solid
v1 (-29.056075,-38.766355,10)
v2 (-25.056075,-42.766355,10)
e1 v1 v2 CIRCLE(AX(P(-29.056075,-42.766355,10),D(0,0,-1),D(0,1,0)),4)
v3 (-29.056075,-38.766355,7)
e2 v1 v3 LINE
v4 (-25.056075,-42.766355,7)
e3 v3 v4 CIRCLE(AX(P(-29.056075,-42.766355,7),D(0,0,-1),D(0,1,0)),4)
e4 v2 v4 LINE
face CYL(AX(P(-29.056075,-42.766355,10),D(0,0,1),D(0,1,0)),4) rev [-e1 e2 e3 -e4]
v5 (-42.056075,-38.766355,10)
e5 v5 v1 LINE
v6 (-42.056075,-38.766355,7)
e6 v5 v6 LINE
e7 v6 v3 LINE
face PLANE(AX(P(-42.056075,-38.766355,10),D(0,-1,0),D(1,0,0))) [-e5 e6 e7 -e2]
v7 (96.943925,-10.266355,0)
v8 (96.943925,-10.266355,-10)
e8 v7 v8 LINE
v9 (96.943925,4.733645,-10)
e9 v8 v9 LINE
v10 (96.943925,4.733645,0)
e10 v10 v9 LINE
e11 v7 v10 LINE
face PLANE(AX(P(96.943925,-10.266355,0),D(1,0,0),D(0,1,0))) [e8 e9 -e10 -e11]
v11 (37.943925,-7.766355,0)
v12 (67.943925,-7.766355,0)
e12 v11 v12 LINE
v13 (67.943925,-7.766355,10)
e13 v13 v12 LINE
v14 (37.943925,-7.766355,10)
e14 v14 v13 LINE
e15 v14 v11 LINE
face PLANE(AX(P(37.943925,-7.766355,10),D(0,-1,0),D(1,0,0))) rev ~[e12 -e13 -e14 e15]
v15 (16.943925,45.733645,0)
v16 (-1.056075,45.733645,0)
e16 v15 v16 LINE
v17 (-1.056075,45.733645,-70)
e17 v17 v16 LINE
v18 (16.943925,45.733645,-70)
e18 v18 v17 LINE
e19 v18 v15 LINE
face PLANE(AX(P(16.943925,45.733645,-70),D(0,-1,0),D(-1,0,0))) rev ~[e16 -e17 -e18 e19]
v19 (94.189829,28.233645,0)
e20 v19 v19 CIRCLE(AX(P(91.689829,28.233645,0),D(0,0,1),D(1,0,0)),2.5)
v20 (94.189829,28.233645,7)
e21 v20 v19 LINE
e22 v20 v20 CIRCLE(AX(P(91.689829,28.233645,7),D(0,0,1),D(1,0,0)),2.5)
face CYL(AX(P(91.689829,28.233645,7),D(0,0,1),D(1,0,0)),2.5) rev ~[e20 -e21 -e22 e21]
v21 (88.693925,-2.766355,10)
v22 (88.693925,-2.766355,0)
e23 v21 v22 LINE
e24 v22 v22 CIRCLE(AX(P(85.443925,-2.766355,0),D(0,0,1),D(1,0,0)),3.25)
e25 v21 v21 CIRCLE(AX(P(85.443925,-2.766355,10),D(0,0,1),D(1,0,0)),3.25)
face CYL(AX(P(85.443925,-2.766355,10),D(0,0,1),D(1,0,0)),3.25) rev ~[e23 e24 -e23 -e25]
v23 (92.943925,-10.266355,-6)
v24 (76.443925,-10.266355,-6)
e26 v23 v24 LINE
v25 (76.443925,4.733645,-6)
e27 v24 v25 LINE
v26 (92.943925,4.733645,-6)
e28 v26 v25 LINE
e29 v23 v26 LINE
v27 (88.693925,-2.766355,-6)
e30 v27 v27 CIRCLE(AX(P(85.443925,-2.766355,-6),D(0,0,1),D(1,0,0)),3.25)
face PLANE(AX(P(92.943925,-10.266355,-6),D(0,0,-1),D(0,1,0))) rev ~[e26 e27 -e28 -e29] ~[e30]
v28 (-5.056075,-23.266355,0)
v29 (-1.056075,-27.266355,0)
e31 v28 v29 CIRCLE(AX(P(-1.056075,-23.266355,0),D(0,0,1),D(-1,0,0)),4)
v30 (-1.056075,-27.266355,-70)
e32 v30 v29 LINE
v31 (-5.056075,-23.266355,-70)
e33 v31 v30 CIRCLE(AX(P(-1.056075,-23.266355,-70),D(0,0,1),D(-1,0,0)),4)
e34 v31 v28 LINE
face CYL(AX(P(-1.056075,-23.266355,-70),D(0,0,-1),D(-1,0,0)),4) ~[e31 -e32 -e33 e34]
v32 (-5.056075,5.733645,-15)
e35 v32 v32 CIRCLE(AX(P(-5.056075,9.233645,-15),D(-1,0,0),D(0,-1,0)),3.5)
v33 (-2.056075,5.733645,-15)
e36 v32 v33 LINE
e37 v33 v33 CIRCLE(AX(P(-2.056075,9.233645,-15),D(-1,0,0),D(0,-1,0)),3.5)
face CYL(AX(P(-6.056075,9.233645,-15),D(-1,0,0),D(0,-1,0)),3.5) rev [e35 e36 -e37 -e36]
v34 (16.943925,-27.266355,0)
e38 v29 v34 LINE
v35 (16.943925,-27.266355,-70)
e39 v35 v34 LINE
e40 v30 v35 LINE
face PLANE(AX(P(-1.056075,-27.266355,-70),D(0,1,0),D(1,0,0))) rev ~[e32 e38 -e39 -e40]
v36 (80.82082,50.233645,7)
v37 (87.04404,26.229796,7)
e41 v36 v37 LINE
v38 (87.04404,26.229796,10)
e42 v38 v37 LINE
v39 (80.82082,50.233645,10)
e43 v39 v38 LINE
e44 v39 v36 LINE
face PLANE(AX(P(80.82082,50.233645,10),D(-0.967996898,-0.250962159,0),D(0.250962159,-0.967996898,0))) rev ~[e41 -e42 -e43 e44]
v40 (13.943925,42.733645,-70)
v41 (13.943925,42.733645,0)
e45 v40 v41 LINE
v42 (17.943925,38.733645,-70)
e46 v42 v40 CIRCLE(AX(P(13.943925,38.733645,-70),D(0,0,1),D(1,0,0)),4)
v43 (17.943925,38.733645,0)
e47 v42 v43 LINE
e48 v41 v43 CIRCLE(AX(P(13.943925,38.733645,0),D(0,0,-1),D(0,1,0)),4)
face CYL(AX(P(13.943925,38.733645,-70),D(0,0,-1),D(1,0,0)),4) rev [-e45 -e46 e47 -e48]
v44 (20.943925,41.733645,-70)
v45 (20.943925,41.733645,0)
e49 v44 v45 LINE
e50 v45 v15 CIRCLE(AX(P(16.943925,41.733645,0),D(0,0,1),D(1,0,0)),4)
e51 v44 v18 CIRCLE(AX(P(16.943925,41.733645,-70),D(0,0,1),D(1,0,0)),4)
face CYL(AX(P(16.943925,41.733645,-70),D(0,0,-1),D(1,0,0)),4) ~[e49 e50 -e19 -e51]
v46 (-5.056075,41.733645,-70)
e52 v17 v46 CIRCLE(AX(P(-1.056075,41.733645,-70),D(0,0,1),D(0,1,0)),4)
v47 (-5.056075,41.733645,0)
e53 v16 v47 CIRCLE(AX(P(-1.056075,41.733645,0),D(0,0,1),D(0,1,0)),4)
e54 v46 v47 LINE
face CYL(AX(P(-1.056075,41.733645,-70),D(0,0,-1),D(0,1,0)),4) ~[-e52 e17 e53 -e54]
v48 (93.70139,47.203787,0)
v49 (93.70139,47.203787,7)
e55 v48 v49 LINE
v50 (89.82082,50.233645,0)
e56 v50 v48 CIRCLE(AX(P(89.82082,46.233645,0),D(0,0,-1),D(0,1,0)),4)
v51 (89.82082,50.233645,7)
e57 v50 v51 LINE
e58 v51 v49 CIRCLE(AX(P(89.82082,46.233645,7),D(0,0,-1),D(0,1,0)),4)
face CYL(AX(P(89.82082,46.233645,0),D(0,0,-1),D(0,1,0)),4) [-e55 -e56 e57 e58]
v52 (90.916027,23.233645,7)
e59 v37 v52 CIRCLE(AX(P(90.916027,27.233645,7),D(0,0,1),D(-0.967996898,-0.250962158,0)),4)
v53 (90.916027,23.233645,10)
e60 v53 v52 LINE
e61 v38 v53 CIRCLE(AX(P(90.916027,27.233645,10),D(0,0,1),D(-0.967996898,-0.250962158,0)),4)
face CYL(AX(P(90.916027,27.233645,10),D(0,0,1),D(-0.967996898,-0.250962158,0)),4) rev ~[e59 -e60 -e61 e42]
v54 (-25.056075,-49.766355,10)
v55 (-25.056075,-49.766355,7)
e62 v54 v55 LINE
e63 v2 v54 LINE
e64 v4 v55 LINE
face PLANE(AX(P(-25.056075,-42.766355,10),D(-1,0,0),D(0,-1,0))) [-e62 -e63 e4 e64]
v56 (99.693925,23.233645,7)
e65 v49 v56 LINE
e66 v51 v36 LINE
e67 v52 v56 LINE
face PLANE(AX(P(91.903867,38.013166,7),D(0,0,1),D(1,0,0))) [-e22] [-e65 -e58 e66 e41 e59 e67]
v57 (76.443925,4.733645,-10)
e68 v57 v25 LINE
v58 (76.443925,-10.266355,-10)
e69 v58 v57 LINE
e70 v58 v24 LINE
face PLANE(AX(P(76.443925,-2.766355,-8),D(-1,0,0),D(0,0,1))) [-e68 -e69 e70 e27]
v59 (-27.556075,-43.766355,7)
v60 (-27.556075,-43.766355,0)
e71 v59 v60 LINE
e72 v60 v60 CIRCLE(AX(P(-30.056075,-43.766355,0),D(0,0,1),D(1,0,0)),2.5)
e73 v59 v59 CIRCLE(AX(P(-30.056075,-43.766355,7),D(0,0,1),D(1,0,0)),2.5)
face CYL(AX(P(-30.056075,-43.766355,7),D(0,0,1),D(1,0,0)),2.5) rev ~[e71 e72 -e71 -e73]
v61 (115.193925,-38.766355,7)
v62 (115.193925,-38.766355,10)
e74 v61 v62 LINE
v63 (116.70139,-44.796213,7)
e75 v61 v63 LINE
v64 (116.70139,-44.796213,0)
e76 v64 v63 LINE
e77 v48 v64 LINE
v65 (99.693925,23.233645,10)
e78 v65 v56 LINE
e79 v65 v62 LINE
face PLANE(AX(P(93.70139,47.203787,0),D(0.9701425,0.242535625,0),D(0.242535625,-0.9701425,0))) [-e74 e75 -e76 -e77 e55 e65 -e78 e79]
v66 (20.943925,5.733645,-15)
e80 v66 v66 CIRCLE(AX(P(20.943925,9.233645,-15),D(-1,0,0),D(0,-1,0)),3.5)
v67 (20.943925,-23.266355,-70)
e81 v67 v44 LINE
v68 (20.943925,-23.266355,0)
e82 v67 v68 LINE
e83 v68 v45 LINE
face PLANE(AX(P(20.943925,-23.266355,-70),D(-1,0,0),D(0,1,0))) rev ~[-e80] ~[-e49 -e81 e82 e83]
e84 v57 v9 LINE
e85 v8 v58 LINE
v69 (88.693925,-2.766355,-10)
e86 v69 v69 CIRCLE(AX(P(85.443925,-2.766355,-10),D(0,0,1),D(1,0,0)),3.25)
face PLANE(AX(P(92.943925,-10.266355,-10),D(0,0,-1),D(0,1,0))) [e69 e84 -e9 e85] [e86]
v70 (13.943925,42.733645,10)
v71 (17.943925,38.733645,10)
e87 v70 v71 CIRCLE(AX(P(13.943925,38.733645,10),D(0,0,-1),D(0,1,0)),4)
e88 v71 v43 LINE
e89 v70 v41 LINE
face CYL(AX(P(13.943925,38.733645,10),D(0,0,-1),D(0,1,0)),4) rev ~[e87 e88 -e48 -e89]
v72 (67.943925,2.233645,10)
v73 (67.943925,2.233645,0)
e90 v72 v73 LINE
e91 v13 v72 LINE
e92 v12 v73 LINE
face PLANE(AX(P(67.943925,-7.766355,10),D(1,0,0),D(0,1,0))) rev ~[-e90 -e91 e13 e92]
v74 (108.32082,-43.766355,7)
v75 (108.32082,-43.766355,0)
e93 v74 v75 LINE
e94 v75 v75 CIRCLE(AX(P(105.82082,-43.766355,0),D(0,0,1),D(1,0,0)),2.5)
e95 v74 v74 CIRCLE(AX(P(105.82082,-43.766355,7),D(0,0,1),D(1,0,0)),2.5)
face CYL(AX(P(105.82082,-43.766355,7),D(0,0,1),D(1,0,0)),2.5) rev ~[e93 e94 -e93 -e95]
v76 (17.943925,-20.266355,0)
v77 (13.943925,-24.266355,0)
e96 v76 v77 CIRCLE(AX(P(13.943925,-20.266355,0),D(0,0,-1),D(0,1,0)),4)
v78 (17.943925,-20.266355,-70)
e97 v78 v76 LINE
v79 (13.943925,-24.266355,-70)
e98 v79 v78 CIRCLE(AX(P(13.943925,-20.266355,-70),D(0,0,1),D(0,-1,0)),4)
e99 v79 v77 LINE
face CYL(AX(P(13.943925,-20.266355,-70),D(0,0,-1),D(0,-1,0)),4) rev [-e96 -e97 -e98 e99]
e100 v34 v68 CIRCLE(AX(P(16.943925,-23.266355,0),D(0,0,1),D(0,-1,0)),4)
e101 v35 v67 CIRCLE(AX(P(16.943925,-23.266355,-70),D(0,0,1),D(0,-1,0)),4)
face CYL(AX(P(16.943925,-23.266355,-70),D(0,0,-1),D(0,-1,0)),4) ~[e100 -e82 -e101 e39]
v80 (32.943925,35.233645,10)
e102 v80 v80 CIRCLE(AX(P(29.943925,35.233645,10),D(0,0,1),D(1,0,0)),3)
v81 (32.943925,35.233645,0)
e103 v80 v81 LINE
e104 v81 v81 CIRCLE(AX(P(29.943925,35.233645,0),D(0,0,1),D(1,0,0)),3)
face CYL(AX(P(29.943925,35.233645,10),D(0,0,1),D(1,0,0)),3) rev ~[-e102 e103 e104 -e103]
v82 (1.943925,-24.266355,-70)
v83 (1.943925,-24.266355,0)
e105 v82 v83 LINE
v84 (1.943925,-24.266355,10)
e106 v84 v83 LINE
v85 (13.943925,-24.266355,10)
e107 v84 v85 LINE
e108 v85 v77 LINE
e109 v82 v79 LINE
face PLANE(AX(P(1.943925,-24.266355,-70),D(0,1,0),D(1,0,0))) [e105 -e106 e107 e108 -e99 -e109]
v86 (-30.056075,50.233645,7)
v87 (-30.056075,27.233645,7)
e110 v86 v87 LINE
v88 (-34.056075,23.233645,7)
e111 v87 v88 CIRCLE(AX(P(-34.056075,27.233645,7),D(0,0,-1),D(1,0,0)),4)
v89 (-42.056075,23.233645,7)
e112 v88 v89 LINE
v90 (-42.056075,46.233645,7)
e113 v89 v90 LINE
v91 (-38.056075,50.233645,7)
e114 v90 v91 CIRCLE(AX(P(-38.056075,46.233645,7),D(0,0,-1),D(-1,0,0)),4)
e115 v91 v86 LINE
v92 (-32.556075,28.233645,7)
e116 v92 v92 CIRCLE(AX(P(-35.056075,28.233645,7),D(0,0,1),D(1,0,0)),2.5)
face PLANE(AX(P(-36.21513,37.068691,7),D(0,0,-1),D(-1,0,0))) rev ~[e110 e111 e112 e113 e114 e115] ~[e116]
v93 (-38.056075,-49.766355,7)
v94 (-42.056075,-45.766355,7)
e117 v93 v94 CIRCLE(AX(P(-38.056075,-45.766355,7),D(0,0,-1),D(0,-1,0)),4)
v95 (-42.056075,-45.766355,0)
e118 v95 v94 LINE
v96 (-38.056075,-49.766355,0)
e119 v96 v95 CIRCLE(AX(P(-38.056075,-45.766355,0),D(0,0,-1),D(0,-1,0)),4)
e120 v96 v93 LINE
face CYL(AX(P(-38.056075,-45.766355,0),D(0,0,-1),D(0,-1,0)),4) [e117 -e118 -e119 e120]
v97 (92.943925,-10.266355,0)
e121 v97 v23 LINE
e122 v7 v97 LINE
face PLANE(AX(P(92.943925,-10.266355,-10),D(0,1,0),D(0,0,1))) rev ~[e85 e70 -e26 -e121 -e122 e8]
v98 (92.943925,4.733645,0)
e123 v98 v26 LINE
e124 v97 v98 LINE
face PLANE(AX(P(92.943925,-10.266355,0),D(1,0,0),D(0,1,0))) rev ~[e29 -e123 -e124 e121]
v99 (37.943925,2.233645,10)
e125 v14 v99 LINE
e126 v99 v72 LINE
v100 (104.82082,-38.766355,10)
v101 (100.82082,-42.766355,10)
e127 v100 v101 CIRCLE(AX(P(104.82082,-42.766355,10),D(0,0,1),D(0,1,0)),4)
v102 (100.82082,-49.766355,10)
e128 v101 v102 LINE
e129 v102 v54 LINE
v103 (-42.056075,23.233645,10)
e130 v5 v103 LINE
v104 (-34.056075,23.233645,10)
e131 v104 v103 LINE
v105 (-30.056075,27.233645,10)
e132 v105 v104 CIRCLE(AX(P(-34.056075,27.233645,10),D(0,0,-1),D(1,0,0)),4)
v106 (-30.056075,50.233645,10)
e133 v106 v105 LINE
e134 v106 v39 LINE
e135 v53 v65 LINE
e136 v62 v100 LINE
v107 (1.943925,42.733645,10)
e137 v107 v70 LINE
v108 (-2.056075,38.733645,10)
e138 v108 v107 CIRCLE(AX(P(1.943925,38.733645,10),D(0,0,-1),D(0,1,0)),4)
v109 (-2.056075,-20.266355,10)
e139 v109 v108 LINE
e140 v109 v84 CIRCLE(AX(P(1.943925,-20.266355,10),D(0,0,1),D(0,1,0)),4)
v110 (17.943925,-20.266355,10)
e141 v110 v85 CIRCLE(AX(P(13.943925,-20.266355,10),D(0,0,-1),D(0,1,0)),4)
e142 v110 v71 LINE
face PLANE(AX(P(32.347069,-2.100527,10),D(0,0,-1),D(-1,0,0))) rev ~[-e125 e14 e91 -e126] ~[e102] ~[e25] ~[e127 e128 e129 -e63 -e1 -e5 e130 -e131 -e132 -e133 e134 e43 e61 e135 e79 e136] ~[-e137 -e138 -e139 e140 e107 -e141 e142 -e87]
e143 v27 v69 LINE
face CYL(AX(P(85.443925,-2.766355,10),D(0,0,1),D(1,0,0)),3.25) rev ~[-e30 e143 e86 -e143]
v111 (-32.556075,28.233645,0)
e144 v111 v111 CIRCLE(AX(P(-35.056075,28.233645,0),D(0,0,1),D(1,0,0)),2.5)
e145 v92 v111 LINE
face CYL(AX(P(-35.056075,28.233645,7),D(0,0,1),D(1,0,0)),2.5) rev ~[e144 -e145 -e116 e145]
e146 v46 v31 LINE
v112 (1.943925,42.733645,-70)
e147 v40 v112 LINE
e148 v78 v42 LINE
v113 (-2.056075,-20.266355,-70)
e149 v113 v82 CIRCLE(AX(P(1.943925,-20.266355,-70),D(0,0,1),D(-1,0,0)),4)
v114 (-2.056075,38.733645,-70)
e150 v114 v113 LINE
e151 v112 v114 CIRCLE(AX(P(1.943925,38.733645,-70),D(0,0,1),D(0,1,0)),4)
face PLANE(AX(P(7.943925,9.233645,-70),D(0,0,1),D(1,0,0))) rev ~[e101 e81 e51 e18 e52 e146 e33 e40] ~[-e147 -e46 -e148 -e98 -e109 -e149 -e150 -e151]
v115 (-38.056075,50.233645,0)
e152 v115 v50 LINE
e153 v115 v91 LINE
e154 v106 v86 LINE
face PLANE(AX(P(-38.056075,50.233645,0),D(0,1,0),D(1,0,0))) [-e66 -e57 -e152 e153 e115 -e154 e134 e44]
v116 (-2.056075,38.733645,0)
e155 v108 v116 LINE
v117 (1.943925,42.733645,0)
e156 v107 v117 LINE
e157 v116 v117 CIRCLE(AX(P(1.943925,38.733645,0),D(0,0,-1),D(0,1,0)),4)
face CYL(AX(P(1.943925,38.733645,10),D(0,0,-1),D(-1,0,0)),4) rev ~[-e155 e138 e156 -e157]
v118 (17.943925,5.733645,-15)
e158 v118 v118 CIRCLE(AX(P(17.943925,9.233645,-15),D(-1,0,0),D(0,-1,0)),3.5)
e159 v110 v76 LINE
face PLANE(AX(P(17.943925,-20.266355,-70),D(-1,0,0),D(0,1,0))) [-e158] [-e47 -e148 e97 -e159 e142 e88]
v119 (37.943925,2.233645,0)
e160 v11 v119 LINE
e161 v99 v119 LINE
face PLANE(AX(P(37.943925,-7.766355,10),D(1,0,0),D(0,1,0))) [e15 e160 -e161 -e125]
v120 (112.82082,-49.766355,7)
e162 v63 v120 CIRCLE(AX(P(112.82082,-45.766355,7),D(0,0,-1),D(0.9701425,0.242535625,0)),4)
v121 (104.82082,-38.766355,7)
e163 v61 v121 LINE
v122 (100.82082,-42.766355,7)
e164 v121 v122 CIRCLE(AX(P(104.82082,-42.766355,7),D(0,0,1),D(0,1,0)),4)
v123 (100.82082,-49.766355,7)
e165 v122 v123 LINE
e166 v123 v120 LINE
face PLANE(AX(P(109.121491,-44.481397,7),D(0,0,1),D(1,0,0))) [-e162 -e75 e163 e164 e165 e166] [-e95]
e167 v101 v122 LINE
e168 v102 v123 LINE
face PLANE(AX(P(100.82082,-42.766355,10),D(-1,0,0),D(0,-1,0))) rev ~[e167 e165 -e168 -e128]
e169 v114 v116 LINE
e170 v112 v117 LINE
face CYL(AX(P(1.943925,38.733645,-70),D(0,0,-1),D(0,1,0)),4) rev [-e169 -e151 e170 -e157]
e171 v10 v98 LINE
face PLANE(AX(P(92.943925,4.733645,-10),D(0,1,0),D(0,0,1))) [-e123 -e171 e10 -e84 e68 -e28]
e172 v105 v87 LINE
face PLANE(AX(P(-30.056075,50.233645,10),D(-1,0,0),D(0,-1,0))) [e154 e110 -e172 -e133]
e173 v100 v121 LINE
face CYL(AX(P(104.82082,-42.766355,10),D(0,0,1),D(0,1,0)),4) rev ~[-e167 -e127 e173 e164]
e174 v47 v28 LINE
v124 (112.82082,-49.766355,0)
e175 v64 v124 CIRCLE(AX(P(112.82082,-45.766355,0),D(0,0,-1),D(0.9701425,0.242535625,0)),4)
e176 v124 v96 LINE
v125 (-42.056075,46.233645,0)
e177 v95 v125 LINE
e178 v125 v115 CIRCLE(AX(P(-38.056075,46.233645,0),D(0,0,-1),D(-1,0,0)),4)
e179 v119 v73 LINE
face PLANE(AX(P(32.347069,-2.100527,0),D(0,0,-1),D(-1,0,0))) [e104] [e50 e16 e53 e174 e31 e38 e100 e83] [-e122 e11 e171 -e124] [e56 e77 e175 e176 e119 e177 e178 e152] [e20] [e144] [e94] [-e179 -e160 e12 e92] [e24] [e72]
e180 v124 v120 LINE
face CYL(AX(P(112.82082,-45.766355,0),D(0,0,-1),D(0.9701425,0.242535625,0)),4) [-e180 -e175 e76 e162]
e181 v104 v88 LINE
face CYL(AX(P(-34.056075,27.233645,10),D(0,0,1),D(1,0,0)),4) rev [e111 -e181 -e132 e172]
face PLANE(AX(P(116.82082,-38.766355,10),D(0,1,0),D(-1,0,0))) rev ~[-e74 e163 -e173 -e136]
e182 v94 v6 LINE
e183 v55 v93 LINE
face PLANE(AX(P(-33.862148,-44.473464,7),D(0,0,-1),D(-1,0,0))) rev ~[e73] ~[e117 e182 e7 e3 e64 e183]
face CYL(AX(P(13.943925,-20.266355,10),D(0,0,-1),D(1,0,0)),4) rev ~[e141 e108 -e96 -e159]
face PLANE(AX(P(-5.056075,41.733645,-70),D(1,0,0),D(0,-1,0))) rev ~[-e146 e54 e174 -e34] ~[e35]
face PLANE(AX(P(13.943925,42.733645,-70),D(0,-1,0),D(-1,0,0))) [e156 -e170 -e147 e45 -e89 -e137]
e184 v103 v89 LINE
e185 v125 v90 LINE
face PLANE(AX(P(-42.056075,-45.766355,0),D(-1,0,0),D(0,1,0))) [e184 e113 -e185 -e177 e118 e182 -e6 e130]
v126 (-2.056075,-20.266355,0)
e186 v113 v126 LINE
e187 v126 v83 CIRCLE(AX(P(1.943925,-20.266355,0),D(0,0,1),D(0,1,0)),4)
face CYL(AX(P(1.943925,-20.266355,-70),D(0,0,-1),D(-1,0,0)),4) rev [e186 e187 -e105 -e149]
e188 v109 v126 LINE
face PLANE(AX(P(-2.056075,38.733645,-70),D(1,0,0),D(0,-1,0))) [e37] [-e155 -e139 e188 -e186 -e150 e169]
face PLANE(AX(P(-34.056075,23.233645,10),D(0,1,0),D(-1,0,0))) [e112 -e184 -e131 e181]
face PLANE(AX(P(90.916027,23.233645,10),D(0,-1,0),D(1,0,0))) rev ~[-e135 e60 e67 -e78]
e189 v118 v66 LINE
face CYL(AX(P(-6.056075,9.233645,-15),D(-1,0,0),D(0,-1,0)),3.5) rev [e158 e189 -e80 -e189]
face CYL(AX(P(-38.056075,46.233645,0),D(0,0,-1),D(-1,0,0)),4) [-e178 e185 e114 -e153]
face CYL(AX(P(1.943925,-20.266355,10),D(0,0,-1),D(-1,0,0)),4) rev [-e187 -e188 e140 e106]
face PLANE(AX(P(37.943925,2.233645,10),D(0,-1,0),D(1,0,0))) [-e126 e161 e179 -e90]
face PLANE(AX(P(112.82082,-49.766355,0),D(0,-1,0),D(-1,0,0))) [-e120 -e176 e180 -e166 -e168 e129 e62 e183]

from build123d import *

# Parameters (mm, degrees)
BOSS_EXTRUDE1_DEPTH = 10
SKETCH2_R           = 3
SKETCH2_W           = 20
SKETCH2_H           = 67
SKETCH2_W_2         = 30
SKETCH2_H_2         = 10
CUT_EXTRUDE1_DEPTH  = 10
FILLET1_R           = 4
BOSS_EXTRUDE2_START = 70
BOSS_EXTRUDE2_DEPTH = 70
CUT_EXTRUDE5_DEPTH  = 3
SKETCH7_R           = 2.5
CUT_EXTRUDE6_DEPTH  = 7
CUT_EXTRUDE8_START  = -5
SKETCH8_R           = 3.5
CUT_EXTRUDE8_DEPTH  = 30
SKETCH9_W           = 4
SKETCH9_H           = 15
BOSS_EXTRUDE3_DEPTH = 10
SKETCH10_W          = 4
SKETCH10_H          = 15
BOSS_EXTRUDE4_DEPTH = 16.5
SKETCH5_R           = 3.25
CUT_EXTRUDE10_DEPTH = 20


with BuildPart() as part:
    # Sketch1 → Boss-Extrude1 (new body)
    with BuildSketch(Plane.XY):
        with BuildLine():
            Line((-38.056074766, 50.23364486), (89.820819608, 50.23364486))
            ThreePointArc((89.820819608, 50.23364486), (92.282468446, 49.386466612), (93.701389609, 47.20378736))
            Line((93.701389609, 47.20378736), (116.701389609, -44.79621264))
            ThreePointArc((116.701389609, -44.79621264), (115.97364136, -48.228003978), (112.820819608, -49.76635514))
            Line((112.820819608, -49.76635514), (-38.056074766, -49.76635514))
            ThreePointArc((-38.056074766, -49.76635514), (-40.884501891, -48.594782265), (-42.056074766, -45.76635514))
            Line((-42.056074766, -45.76635514), (-42.056074766, 46.23364486))
            ThreePointArc((-42.056074766, 46.23364486), (-40.884501891, 49.062071985), (-38.056074766, 50.23364486))
        make_face()
    extrude(amount=BOSS_EXTRUDE1_DEPTH)

    # Sketch2 → Cut-Extrude1 (cut)
    with BuildSketch(Plane.XY.offset(10)):
        with Locations((29.943925234, 35.23364486)):
            Circle(SKETCH2_R)
        with Locations((7.943925234, 9.23364486)):
            Rectangle(SKETCH2_W, SKETCH2_H)
        with Locations((52.943925234, -2.76635514)):
            Rectangle(SKETCH2_W_2, SKETCH2_H_2)
    extrude(amount=-CUT_EXTRUDE1_DEPTH, mode=Mode.SUBTRACT)

    # Fillet1
    fillet1_edges = [part.edges().sort_by_distance(p)[0] for p in [
        (-2.056074766, -24.26635514, 5),
        (-2.056074766, 42.73364486, 5),
        (17.943925234, 42.73364486, 5),
        (17.943925234, -24.26635514, 5),
    ]]
    fillet(fillet1_edges, radius=FILLET1_R)

    # Sketch4 → Boss-Extrude2 (add)
    with BuildSketch(Plane(origin=(0, 0, 0), x_dir=(-1, 0, 0), z_dir=(0, 0, -1)).offset(BOSS_EXTRUDE2_START)):
        with BuildLine():
            Line((-16.943925234, 45.73364486), (1.056074766, 45.73364486))
            ThreePointArc((1.056074766, 45.73364486), (3.884501891, 44.562071985), (5.056074766, 41.73364486))
            Line((5.056074766, 41.73364486), (5.056074766, -23.26635514))
            ThreePointArc((5.056074766, -23.26635514), (3.884501891, -26.094782265), (1.056074766, -27.26635514))
            Line((1.056074766, -27.26635514), (-16.943925234, -27.26635514))
            ThreePointArc((-16.943925234, -27.26635514), (-19.772352358, -26.094782265), (-20.943925234, -23.26635514))
            Line((-20.943925234, -23.26635514), (-20.943925234, 41.73364486))
            ThreePointArc((-20.943925234, 41.73364486), (-19.772352358, 44.562071985), (-16.943925234, 45.73364486))
        make_face()
        with BuildLine():
            Line((-1.943925234, -24.26635514), (-13.943925234, -24.26635514))
            ThreePointArc((-13.943925234, -24.26635514), (-16.772352358, -23.094782265), (-17.943925234, -20.26635514))
            Line((-17.943925234, -20.26635514), (-17.943925234, 38.73364486))
            ThreePointArc((-17.943925234, 38.73364486), (-16.772352358, 41.562071985), (-13.943925234, 42.73364486))
            Line((-13.943925234, 42.73364486), (-1.943925234, 42.73364486))
            ThreePointArc((-1.943925234, 42.73364486), (0.884501891, 41.562071985), (2.056074766, 38.73364486))
            Line((2.056074766, 38.73364486), (2.056074766, -20.26635514))
            ThreePointArc((2.056074766, -20.26635514), (0.884501891, -23.094782265), (-1.943925234, -24.26635514))
        make_face(mode=Mode.SUBTRACT)
    extrude(amount=-BOSS_EXTRUDE2_DEPTH)

    # Sketch6 → Cut-Extrude5 (cut)
    with BuildSketch(Plane.XY.offset(10)):
        with BuildLine():
            Line((-42.056074766, 50.23364486), (-30.056074766, 50.23364486))
            Line((-30.056074766, 50.23364486), (-30.056074766, 27.23364486))
            ThreePointArc((-30.056074766, 27.23364486), (-31.227647642, 24.405217735), (-34.056074766, 23.23364486))
            Line((-34.056074766, 23.23364486), (-42.056074766, 23.23364486))
            Line((-42.056074766, 23.23364486), (-42.056074766, 50.23364486))
        make_face()
        with BuildLine():
            Line((-25.056074766, -49.76635514), (-42.056074766, -49.76635514))
            Line((-42.056074766, -49.76635514), (-42.056074766, -38.76635514))
            Line((-42.056074766, -38.76635514), (-29.056074766, -38.76635514))
            ThreePointArc((-29.056074766, -38.76635514), (-26.227647642, -39.937928015), (-25.056074766, -42.76635514))
            Line((-25.056074766, -42.76635514), (-25.056074766, -49.76635514))
        make_face()
        with BuildLine():
            Line((80.820819608, 50.23364486), (87.044039625, 26.229796225))
            ThreePointArc((87.044039625, 26.229796225), (88.468109177, 24.070150388), (90.916027217, 23.23364486))
            Line((90.916027217, 23.23364486), (99.820819608, 23.23364486))
            Line((99.820819608, 23.23364486), (99.820819608, 50.23364486))
            Line((99.820819608, 50.23364486), (80.820819608, 50.23364486))
        make_face()
        with BuildLine():
            Line((100.820819608, -49.76635514), (116.820819608, -49.76635514))
            Line((116.820819608, -49.76635514), (116.820819608, -38.76635514))
            Line((116.820819608, -38.76635514), (104.820819608, -38.76635514))
            ThreePointArc((104.820819608, -38.76635514), (101.992392483, -39.937928015), (100.820819608, -42.76635514))
            Line((100.820819608, -42.76635514), (100.820819608, -49.76635514))
        make_face()
    extrude(amount=-CUT_EXTRUDE5_DEPTH, mode=Mode.SUBTRACT)

    # Sketch7 → Cut-Extrude6 (cut)
    with BuildSketch(Plane.XY.offset(7)):
        with Locations((91.68982912, 28.23364486)):
            Circle(SKETCH7_R)
        with Locations((-35.056074766, 28.23364486)):
            Circle(SKETCH7_R)
        with Locations((105.820819608, -43.76635514)):
            Circle(SKETCH7_R)
        with Locations((-30.056074766, -43.76635514)):
            Circle(SKETCH7_R)
    extrude(amount=-CUT_EXTRUDE6_DEPTH, mode=Mode.SUBTRACT)

    # Sketch8 → Cut-Extrude8 (cut)
    with BuildSketch(Plane(origin=(-1.056074766, 45.73364486, -70), x_dir=(0, 0, -1), z_dir=(1, 0, 0)).offset(CUT_EXTRUDE8_START)):
        with Locations(Location((-55, -36.5, 0), (0, 0, 270))):
            Circle(SKETCH8_R)
    extrude(amount=CUT_EXTRUDE8_DEPTH, mode=Mode.SUBTRACT)

    # Sketch9 → Boss-Extrude3 (add)
    with BuildSketch(Plane(origin=(0, 0, 0), x_dir=(-1, 0, 0), z_dir=(0, 0, -1))):
        with Locations((-94.943925234, -2.76635514)):
            Rectangle(SKETCH9_W, SKETCH9_H)
    extrude(amount=BOSS_EXTRUDE3_DEPTH)

    # Sketch10 → Boss-Extrude4 (add)
    with BuildSketch(Plane.ZY.offset(-92.943925234)):
        with Locations((-8, -2.76635514)):
            Rectangle(SKETCH10_W, SKETCH10_H)
    extrude(amount=BOSS_EXTRUDE4_DEPTH)

    # Sketch5 → Cut-Extrude10 (cut)
    with BuildSketch(Plane.XY.offset(10)):
        with Locations((85.443925234, -2.76635514)):
            Circle(SKETCH5_R)
    extrude(amount=-CUT_EXTRUDE10_DEPTH, mode=Mode.SUBTRACT)


solid = part.part
